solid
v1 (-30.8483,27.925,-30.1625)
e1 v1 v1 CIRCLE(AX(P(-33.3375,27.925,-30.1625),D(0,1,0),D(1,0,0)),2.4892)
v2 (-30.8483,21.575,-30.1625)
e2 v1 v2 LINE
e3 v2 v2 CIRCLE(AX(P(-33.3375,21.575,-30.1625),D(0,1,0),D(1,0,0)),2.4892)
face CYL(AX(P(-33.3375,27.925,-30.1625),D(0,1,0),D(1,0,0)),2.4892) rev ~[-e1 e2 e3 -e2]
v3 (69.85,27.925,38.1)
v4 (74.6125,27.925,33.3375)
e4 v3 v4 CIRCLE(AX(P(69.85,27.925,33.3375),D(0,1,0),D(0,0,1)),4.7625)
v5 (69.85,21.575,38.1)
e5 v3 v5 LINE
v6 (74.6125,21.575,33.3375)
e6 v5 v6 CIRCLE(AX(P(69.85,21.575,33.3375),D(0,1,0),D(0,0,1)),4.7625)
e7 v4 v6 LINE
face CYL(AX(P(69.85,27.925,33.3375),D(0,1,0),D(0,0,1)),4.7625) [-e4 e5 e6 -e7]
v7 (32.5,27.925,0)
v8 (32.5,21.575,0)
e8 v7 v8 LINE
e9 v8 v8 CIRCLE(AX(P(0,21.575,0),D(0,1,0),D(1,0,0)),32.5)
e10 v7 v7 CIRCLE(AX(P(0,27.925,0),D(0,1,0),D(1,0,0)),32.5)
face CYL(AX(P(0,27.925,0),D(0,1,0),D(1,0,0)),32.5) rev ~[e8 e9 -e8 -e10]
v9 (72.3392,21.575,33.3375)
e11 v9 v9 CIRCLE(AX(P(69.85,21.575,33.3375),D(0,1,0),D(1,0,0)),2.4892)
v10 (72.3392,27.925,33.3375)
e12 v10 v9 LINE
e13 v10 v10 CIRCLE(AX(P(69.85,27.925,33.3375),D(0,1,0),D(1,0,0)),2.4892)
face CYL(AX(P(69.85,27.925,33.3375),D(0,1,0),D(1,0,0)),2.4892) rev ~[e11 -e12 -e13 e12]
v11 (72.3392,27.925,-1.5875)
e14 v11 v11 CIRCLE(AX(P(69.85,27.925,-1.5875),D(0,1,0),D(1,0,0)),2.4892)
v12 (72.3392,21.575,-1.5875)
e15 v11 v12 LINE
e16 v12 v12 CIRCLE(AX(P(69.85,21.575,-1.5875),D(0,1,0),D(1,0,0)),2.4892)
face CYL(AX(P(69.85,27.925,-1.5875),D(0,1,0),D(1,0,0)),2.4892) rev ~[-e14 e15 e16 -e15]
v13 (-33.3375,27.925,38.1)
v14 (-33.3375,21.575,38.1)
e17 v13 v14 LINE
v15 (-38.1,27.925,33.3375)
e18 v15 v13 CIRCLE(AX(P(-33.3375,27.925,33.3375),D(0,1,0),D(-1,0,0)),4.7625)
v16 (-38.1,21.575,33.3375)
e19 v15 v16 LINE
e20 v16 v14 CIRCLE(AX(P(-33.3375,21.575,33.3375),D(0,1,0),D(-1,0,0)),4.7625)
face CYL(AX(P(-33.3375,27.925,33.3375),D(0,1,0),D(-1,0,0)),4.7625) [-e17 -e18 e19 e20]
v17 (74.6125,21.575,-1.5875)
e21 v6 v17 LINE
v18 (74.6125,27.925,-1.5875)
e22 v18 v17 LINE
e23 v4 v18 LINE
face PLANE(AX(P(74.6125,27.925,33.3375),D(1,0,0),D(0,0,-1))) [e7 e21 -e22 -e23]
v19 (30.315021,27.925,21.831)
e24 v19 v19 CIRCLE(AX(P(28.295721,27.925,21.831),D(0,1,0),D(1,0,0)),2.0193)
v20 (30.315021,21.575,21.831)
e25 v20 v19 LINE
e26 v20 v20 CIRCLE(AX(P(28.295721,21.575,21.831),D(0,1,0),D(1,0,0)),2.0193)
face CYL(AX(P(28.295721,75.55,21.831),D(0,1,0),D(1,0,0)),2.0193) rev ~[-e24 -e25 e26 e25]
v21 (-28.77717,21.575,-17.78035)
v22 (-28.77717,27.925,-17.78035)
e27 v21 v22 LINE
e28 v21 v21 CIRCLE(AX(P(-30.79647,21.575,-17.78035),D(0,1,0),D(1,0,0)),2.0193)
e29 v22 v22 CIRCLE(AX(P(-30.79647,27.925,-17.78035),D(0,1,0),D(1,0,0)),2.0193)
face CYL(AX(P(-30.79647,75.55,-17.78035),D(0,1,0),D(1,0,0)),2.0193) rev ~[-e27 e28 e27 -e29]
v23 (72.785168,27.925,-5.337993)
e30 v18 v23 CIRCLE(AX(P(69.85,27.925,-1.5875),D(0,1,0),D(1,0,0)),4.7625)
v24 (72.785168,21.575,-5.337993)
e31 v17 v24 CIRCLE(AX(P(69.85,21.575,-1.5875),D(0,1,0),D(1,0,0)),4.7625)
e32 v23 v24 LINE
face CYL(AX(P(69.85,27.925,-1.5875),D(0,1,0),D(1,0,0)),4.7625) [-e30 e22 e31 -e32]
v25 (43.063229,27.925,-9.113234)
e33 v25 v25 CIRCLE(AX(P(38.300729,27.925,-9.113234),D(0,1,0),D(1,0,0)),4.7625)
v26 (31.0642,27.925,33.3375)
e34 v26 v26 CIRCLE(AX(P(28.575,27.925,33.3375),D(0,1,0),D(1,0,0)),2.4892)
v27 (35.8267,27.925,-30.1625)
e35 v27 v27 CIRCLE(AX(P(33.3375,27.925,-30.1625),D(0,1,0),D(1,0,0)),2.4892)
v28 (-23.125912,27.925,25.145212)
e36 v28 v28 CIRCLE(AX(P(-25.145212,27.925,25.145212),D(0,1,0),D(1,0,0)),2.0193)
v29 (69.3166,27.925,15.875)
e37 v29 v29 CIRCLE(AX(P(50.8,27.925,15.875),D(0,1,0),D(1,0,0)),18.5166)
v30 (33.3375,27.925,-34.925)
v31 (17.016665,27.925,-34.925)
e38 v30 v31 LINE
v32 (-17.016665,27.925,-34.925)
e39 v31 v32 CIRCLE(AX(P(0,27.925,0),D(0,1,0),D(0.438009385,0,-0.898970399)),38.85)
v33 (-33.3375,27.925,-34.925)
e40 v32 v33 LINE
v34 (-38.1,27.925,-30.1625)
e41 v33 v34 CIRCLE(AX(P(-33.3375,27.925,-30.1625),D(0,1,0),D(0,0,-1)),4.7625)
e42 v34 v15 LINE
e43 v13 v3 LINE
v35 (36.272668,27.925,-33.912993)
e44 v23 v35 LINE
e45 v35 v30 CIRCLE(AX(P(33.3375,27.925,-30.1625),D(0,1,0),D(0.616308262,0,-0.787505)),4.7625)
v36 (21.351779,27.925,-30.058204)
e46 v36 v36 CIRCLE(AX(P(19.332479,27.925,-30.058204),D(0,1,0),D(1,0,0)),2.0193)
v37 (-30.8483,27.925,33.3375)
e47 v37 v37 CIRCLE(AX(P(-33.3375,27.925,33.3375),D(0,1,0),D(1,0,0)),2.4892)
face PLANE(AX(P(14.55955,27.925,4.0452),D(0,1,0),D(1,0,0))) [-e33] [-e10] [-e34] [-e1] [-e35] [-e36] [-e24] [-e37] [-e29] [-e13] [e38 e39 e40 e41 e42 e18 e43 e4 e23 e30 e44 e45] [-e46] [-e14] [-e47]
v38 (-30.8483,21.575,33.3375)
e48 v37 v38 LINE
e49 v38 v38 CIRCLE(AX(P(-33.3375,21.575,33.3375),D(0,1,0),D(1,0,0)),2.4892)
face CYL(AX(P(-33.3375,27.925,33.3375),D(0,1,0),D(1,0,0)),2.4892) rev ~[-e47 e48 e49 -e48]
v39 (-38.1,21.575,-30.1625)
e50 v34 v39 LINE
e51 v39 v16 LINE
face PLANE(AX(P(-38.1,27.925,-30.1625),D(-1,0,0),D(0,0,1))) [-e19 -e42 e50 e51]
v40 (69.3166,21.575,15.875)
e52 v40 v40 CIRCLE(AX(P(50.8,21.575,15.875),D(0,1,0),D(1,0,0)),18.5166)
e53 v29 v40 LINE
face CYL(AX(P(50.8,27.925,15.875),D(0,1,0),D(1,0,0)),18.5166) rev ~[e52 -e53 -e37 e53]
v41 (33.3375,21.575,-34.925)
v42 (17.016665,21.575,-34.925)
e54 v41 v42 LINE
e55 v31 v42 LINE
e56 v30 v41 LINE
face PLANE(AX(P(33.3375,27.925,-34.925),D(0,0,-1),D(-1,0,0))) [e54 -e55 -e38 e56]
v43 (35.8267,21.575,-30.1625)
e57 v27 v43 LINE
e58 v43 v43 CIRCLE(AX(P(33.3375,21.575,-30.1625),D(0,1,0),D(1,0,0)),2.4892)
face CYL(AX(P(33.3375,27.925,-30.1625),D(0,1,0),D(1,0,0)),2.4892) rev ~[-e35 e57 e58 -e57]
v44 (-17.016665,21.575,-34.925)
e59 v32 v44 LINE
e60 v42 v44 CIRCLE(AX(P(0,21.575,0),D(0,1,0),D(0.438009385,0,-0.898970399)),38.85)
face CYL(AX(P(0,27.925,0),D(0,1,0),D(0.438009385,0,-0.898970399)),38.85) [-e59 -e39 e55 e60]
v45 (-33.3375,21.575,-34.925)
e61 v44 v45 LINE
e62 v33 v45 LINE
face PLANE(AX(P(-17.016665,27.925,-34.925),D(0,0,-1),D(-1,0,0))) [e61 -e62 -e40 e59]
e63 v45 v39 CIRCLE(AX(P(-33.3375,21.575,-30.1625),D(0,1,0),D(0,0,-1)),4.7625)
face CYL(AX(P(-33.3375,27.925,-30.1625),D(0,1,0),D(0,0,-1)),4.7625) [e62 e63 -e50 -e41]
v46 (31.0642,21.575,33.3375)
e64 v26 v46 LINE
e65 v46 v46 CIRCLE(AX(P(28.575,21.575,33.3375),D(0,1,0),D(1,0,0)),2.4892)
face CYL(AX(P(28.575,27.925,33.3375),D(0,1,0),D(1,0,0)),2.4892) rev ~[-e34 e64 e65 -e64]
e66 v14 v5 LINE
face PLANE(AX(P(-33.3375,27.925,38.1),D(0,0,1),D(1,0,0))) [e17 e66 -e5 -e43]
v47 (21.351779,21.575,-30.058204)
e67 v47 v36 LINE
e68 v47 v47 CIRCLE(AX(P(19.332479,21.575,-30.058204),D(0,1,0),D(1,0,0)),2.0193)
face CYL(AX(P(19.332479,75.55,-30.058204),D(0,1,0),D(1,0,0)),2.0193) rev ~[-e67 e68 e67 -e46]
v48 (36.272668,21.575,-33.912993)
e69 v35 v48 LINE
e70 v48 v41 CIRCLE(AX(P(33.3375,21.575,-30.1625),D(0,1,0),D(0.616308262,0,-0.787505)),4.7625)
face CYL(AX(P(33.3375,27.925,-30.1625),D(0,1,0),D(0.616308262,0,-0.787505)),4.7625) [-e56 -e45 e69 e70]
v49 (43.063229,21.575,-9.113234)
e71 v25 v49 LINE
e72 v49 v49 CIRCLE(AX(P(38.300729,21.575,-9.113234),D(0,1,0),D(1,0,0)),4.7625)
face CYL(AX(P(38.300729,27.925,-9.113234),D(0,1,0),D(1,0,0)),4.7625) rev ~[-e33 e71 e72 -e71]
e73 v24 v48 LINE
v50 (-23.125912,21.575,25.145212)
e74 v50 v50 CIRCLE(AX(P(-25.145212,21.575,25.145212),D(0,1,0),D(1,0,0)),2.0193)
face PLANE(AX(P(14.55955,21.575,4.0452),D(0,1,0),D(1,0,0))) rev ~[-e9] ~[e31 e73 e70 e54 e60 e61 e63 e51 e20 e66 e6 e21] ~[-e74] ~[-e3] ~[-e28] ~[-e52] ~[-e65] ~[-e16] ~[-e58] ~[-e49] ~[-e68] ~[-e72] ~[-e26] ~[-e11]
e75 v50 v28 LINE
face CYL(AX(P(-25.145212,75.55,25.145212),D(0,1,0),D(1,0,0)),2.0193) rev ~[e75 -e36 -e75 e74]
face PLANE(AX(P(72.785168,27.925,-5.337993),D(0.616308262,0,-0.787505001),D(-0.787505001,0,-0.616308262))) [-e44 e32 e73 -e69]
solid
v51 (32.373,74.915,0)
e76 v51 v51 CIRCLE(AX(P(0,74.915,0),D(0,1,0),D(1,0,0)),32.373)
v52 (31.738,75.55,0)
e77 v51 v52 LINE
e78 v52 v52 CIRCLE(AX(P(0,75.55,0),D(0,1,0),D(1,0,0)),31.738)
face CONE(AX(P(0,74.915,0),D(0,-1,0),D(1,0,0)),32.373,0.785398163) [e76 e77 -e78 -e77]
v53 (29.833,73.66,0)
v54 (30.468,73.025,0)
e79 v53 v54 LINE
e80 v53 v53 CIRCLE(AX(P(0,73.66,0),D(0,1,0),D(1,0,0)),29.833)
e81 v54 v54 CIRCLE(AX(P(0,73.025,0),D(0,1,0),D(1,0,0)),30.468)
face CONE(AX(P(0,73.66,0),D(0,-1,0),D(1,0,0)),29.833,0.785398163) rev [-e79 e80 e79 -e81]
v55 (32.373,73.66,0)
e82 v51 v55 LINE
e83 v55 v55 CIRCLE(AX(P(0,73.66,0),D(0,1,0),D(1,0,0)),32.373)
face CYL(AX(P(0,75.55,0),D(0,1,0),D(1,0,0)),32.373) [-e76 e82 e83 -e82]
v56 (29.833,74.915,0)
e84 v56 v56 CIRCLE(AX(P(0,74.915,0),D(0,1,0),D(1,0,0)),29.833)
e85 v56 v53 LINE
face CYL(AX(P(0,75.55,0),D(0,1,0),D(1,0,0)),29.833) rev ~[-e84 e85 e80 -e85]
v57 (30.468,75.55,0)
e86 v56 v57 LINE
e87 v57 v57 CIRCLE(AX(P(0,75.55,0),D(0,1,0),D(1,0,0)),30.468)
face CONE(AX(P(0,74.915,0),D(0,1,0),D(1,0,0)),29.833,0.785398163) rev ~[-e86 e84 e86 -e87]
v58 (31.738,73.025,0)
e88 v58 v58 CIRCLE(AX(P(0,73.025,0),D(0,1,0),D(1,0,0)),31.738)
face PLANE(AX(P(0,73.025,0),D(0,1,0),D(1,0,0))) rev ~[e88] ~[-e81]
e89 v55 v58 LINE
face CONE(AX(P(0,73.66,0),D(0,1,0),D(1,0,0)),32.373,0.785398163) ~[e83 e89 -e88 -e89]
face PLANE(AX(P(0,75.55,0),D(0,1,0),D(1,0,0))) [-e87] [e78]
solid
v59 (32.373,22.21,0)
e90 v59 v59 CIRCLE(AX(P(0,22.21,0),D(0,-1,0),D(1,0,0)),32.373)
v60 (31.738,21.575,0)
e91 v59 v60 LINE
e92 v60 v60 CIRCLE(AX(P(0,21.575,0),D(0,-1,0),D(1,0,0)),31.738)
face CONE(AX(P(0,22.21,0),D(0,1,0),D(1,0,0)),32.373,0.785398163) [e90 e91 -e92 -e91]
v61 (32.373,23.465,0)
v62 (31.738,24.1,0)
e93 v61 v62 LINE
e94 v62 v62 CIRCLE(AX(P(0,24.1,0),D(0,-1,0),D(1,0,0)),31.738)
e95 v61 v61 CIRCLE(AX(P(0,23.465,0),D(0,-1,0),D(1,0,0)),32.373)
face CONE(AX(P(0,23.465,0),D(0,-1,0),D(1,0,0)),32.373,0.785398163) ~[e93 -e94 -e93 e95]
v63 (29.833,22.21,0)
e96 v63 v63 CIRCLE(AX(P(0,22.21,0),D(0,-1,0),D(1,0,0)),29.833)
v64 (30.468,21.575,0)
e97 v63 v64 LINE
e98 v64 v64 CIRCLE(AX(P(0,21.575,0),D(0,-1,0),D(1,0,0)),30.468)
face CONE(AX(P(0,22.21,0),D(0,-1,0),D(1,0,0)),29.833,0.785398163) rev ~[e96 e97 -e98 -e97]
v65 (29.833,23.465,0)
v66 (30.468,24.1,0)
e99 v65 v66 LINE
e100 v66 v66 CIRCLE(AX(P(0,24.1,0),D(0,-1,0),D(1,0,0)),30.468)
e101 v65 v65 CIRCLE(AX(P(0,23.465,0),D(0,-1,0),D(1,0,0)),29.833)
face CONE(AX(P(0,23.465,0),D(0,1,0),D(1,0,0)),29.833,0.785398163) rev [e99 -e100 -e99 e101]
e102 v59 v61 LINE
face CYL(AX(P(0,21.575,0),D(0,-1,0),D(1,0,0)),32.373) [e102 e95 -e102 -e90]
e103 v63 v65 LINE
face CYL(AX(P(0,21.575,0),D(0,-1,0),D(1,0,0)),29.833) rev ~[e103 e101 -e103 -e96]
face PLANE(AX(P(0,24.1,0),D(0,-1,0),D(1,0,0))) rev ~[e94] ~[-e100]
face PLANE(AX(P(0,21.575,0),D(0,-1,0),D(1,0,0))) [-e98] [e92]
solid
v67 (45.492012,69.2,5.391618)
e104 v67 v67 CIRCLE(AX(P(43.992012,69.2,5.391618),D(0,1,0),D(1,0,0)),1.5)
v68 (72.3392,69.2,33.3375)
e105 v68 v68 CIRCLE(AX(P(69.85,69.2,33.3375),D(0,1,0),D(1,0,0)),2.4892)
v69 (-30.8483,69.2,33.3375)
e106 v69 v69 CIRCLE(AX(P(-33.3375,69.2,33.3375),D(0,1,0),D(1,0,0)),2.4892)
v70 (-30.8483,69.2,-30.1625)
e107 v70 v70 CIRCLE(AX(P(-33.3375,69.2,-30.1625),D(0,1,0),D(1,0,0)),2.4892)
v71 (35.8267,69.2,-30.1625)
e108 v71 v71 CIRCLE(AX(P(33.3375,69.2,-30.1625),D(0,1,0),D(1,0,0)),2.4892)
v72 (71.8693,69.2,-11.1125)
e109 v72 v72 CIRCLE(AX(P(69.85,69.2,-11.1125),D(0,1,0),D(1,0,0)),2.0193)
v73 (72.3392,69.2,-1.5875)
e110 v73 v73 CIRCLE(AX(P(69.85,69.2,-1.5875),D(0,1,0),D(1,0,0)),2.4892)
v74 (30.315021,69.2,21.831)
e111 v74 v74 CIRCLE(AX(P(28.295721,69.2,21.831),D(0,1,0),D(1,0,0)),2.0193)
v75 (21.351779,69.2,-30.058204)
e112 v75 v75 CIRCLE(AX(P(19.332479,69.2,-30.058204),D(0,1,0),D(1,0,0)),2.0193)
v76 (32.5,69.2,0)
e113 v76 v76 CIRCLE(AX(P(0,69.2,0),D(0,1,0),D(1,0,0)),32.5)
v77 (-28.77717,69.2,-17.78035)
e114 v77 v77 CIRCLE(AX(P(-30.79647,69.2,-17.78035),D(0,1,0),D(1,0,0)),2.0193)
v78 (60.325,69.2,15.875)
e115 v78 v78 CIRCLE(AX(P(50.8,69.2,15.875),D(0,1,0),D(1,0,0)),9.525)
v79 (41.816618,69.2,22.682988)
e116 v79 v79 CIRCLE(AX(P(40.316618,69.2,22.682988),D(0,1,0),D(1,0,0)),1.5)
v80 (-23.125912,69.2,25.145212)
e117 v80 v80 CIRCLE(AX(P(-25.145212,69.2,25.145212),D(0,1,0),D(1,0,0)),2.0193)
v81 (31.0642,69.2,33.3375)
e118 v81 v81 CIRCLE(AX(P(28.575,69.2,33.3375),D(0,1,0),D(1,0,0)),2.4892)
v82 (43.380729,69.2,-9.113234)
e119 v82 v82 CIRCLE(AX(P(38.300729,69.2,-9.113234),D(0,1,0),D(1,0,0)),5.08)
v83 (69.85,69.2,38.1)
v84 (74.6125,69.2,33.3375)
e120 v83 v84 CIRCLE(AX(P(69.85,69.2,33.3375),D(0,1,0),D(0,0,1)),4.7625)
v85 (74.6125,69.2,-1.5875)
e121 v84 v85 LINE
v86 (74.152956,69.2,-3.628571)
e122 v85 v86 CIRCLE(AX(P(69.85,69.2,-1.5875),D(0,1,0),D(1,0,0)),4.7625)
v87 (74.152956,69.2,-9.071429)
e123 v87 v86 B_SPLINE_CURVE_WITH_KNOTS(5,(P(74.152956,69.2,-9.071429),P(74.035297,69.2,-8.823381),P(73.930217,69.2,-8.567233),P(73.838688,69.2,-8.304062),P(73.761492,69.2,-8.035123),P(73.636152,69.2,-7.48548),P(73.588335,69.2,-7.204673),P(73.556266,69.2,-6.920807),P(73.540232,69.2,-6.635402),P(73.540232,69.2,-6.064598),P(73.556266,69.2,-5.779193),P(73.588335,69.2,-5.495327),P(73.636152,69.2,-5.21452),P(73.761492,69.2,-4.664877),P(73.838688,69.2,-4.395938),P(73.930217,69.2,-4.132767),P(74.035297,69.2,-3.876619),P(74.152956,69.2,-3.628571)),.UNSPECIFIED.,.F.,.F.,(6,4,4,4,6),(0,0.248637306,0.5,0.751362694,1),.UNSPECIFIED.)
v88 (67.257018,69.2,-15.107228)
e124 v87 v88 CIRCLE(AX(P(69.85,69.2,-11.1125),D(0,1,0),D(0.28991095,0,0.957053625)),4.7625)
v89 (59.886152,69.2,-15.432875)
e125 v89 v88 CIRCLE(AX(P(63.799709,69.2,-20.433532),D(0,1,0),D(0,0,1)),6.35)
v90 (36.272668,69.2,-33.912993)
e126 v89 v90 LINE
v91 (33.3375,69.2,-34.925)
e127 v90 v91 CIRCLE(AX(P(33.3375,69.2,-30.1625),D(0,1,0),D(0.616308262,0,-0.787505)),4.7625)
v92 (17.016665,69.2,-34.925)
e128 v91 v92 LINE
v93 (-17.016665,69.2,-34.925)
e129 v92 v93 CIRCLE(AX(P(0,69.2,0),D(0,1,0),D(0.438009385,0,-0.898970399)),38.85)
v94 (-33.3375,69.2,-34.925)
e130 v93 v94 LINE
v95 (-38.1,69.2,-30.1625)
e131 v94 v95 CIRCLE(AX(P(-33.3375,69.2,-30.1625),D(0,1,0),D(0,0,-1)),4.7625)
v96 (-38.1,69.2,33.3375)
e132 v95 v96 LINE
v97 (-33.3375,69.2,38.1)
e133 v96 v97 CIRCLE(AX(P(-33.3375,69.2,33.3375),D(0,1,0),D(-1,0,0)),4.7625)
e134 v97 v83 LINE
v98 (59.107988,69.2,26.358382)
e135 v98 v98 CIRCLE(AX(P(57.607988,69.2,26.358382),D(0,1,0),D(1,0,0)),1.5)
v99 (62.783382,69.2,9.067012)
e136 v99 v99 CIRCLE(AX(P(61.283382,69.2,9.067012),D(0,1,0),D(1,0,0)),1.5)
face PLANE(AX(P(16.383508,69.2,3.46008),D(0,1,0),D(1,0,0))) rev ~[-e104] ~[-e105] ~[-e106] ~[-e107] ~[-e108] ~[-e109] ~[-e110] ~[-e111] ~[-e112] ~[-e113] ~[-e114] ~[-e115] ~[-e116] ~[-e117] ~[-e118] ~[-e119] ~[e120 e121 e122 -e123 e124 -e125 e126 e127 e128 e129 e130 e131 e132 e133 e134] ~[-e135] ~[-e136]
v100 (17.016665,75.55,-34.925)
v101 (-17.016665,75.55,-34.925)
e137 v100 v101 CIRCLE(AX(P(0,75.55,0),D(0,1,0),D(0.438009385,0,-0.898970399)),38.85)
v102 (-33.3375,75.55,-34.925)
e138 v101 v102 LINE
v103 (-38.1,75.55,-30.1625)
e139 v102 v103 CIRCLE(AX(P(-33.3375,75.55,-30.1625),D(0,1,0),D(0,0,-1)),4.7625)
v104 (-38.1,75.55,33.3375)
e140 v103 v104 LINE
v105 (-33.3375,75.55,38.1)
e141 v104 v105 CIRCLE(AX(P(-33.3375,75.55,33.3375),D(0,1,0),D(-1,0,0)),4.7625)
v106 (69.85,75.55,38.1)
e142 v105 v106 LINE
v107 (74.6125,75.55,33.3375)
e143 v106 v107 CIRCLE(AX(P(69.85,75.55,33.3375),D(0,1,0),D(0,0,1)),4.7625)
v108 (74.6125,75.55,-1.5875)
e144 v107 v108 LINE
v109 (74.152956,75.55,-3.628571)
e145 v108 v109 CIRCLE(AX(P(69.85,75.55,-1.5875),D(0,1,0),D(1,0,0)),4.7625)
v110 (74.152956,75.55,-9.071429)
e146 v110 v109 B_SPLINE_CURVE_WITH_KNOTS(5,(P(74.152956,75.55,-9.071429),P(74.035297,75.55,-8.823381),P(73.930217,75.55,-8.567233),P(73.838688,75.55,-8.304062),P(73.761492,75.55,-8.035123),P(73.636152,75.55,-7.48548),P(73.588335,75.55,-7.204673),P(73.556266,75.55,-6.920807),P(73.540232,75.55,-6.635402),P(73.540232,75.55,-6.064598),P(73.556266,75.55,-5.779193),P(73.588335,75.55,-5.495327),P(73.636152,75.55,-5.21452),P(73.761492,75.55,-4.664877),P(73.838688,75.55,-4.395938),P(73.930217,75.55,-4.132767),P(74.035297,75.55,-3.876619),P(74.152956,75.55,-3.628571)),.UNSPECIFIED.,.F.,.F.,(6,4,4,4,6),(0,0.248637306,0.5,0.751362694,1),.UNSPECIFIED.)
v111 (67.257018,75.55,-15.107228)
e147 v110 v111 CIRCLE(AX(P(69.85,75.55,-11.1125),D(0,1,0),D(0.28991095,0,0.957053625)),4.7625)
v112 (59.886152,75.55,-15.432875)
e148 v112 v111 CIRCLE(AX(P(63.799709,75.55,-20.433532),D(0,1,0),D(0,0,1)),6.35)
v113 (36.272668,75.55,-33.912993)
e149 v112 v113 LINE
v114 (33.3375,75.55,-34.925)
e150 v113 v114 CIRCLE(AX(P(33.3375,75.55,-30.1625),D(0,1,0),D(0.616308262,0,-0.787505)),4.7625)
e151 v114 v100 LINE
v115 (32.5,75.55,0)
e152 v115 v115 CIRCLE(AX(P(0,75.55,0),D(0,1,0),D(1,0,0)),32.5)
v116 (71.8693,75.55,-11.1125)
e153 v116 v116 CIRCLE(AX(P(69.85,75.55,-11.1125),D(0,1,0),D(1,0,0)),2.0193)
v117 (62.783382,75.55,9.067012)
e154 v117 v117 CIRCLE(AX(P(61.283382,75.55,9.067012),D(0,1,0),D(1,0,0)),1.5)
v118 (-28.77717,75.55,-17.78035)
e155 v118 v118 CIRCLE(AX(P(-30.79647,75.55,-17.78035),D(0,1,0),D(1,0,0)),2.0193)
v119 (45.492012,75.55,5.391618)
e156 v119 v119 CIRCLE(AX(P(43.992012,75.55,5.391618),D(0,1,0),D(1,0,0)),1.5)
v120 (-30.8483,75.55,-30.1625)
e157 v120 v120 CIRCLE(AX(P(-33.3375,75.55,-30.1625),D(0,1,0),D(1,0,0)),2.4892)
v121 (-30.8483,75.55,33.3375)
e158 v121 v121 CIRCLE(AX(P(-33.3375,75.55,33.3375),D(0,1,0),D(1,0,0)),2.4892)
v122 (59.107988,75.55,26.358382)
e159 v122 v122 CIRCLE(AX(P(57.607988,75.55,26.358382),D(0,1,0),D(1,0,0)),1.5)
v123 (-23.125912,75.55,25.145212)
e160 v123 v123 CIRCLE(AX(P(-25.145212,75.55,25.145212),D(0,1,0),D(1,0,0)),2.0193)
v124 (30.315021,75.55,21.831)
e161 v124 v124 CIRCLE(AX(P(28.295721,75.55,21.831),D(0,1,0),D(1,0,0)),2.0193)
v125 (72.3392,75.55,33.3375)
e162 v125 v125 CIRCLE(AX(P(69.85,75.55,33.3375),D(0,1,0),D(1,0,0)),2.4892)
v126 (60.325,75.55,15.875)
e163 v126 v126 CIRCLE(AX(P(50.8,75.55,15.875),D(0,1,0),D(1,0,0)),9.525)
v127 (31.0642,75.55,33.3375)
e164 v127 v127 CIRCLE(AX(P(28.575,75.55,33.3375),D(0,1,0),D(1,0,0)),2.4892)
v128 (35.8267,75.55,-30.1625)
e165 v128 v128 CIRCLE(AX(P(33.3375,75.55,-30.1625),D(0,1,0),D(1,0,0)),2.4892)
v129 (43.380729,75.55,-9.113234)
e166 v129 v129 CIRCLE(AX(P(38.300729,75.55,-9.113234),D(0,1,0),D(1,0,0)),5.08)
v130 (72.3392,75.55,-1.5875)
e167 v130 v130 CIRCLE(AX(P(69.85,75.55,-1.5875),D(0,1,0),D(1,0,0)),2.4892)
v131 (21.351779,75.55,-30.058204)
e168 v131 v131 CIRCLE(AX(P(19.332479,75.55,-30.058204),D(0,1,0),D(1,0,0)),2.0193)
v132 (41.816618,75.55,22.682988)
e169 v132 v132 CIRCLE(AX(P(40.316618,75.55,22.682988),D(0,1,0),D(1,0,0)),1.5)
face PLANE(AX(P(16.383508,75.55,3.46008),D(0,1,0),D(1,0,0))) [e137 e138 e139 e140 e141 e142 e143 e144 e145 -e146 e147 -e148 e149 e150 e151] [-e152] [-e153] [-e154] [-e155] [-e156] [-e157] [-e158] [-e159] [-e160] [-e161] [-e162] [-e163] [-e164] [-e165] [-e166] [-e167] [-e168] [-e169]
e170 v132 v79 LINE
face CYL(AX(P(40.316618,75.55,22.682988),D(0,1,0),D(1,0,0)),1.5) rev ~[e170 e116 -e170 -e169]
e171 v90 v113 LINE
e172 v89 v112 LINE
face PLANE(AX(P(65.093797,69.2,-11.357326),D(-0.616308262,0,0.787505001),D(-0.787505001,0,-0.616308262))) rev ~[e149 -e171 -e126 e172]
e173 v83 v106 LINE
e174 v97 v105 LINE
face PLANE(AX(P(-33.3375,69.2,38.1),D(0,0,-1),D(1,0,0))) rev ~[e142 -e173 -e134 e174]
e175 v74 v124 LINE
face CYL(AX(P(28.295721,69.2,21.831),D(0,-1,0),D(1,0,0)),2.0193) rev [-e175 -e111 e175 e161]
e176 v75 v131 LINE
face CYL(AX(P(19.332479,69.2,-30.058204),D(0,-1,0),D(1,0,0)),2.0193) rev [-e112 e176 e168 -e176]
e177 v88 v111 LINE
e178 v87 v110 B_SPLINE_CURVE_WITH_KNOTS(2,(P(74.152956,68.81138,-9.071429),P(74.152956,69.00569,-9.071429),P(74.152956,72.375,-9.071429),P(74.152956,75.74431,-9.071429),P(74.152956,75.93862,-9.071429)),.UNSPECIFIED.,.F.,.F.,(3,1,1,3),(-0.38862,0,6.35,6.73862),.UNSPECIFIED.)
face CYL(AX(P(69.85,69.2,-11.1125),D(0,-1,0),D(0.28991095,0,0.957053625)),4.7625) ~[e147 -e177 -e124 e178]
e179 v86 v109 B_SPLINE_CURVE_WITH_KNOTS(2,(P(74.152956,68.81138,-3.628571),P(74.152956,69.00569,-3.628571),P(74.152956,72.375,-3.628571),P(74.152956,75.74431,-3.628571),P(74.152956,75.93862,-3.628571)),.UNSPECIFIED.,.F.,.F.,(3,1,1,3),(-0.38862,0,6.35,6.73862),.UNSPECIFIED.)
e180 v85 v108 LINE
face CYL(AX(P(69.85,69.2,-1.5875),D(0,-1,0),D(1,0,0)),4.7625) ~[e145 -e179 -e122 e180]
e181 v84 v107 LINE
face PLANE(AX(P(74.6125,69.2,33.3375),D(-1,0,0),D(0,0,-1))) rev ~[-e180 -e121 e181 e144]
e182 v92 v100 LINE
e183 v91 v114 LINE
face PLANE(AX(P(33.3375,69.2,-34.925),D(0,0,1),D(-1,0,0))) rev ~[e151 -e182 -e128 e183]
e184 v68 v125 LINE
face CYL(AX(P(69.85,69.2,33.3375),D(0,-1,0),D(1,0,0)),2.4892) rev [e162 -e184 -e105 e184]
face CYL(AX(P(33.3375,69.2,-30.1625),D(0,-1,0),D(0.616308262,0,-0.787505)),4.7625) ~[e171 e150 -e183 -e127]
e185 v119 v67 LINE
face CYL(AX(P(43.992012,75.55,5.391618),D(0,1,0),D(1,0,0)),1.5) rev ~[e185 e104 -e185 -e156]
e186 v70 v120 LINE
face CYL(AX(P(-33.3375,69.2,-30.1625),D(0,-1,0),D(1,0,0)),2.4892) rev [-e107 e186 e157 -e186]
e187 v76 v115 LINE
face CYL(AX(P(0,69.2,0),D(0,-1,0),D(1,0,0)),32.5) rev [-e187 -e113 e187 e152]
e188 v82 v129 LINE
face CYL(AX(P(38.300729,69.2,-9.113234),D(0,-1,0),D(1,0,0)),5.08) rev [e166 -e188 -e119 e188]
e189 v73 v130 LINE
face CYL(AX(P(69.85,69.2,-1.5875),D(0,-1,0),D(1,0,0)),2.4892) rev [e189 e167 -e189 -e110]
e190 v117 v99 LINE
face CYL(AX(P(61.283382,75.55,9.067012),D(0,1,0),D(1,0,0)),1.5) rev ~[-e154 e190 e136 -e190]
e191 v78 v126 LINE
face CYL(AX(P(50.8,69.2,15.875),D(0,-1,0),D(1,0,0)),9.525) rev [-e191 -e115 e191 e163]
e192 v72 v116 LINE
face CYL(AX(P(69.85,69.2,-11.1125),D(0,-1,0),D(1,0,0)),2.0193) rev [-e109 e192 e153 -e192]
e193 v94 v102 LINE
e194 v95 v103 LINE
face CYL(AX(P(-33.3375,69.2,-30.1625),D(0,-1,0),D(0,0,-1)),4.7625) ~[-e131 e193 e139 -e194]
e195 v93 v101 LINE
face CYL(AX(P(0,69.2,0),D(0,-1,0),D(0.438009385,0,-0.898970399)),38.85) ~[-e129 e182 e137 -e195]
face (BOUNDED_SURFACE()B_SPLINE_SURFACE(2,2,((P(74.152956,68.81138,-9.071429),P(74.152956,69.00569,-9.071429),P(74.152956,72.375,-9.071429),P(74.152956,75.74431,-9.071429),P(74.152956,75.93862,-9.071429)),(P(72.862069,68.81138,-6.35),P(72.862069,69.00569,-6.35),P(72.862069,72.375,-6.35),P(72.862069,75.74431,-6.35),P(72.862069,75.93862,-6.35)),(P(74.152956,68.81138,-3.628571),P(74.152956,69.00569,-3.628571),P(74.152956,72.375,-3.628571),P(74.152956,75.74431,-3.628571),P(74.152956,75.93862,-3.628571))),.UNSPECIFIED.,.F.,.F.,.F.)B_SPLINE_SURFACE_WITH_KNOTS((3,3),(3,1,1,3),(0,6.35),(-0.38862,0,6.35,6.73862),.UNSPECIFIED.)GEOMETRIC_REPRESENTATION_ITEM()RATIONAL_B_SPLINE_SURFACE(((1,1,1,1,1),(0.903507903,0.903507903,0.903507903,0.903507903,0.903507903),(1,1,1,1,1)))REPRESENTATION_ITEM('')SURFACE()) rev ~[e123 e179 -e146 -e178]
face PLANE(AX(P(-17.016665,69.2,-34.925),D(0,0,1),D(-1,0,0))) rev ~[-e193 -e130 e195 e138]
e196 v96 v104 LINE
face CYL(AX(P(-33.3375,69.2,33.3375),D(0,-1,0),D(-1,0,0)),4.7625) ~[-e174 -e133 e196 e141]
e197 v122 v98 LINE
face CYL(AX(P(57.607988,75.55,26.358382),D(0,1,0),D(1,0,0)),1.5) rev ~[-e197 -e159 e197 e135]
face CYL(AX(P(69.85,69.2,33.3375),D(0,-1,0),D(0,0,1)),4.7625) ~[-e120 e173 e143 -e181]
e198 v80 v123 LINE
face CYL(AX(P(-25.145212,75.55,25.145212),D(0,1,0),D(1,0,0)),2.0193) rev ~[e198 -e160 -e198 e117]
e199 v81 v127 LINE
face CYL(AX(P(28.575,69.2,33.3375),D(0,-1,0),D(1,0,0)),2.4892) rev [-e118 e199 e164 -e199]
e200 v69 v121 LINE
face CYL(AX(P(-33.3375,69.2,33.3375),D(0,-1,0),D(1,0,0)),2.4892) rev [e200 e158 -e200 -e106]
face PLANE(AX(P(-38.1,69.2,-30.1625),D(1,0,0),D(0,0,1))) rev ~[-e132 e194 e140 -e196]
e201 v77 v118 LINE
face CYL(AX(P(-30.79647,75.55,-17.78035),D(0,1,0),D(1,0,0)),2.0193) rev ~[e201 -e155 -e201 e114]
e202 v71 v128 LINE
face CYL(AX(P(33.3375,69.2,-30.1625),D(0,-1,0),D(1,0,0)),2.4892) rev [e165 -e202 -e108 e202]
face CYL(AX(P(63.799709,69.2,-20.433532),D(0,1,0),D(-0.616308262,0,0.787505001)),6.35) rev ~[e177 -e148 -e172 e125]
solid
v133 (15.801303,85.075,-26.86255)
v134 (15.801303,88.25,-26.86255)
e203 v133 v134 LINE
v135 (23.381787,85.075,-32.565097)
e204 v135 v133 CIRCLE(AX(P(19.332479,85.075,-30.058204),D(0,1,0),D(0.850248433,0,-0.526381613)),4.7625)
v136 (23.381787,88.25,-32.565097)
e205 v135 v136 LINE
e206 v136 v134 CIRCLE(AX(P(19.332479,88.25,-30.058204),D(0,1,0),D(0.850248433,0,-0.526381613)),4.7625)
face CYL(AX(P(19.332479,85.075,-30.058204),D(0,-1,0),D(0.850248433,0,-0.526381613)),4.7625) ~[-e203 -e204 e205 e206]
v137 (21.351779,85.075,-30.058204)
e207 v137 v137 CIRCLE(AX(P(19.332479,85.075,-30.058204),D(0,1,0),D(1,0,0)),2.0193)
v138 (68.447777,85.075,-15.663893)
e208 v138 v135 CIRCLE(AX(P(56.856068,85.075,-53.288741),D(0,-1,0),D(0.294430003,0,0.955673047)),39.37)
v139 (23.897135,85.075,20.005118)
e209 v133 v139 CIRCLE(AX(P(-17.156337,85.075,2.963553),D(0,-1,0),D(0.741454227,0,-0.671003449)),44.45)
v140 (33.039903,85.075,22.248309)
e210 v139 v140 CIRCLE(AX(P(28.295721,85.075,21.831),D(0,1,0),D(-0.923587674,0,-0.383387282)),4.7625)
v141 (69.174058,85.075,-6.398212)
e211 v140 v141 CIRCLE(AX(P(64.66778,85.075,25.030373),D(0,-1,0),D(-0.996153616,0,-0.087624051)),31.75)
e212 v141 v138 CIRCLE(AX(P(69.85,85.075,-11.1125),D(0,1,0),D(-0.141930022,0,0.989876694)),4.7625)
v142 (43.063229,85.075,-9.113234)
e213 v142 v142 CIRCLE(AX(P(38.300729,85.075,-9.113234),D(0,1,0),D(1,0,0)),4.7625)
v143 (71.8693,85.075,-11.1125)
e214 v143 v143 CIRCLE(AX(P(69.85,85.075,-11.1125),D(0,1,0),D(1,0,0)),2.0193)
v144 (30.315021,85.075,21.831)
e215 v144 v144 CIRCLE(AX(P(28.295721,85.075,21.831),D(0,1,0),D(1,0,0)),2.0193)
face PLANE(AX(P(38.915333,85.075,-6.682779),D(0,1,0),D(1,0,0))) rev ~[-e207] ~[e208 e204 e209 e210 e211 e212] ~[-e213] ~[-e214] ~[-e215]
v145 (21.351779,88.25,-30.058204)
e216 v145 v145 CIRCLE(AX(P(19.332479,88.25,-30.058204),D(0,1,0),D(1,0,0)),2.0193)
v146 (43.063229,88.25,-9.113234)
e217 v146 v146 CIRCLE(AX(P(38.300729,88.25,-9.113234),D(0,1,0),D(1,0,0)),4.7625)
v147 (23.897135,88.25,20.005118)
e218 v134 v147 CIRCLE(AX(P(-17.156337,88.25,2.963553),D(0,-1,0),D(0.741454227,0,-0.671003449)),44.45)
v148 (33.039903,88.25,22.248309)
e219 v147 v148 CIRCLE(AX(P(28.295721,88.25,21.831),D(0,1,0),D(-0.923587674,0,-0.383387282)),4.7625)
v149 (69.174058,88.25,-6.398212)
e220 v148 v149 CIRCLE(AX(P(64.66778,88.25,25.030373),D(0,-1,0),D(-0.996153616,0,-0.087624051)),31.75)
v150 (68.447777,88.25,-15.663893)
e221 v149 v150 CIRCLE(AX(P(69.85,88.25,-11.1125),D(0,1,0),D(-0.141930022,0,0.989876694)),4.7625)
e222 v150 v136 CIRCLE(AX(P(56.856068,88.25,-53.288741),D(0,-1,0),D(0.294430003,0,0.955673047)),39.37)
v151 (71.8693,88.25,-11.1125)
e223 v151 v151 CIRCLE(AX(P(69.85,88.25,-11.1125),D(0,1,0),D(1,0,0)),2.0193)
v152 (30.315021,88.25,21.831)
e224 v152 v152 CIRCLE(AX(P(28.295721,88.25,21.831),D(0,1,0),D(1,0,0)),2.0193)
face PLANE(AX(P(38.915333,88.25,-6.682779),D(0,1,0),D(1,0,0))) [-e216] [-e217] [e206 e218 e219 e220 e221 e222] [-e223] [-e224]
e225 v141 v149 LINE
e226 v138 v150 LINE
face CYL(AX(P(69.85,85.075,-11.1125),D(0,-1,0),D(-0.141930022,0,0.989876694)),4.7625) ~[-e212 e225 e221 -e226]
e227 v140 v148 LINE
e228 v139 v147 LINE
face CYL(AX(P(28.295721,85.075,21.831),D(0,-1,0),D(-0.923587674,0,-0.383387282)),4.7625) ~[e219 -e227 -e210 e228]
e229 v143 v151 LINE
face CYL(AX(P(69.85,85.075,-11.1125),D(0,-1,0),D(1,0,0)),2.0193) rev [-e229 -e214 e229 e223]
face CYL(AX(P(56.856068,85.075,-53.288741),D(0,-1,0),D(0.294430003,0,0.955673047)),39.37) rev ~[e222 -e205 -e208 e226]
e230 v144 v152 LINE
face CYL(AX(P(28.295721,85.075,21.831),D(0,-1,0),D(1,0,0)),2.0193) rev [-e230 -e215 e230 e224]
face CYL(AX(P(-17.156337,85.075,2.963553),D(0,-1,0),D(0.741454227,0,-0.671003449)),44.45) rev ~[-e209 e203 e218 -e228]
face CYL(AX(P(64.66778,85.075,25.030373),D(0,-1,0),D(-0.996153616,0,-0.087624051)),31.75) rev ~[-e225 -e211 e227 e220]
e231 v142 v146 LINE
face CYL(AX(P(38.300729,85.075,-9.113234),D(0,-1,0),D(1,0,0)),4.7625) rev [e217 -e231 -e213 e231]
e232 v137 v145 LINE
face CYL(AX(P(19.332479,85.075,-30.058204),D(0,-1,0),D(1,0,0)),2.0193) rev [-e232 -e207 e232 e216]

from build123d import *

# Parameters (mm, degrees)
SKETCH3_R               = 32.5
SKETCH3_R_2             = 2.4892
SKETCH3_R_3             = 18.5166
SKETCH3_R_4             = 4.7625
BOSS_EXTRUDE1_DEPTH     = 6.35
SKETCH4_R               = 2.4892
SKETCH4_R_2             = 5.08
SKETCH4_R_3             = 9.525
SKETCH4_R_4             = 32.5
SKETCH4_R_5             = 2.0193
BOSS_EXTRUDE2_DEPTH     = 6.35
SKETCH6_R               = 4.7625
SKETCH6_R_2             = 2.0193
BOSS_EXTRUDE3_DEPTH     = 3.175
SKETCH13_R              = 32.373
SKETCH13_R_2            = 29.833
BOSS_EXTRUDE7_DEPTH     = 2.525
SKETCH14_R              = 32.373
SKETCH14_R_2            = 29.833
BOSS_EXTRUDE8_DEPTH     = 2.525
SKETCH8_R               = 1.5
CUT_EXTRUDE1_DEPTH      = 54.975
SKETCH9_R               = 2.0193
CUT_EXTRUDE2_DEPTH      = 13.7
CUT_EXTRUDE2_DEPTH_BACK = 54.975
FILLET1_R               = 6.35
CHAMFER2_SIZE           = 0.635
CHAMFER1_SIZE           = 0.635


with BuildPart() as part:
    # Sketch3 → Boss-Extrude1 (new body)
    with BuildSketch(Plane(origin=(0, 27.925, 0), x_dir=(1, 0, 0), z_dir=(0, 1, 0))):
        with BuildLine():
            Line((-38.1, 30.1625), (-38.1, -33.3375))
            ThreePointArc((-38.1, -33.3375), (-36.705096045, -36.705096045), (-33.3375, -38.1))
            Line((-33.3375, -38.1), (69.85, -38.1))
            ThreePointArc((69.85, -38.1), (73.217596045, -36.705096045), (74.6125, -33.3375))
            Line((74.6125, -33.3375), (74.6125, 1.5875))
            ThreePointArc((74.6125, 1.5875), (74.131363352, 3.673485162), (72.785168096, 5.337992567))
            Line((72.785168096, 5.337992567), (36.272668096, 33.912992567))
            ThreePointArc((36.272668096, 33.912992567), (34.889866806, 34.664895313), (33.3375, 34.925))
            Line((33.3375, 34.925), (17.016664626, 34.925))
            ThreePointArc((17.016664626, 34.925), (0, 38.85), (-17.016664626, 34.925))
            Line((-17.016664626, 34.925), (-33.3375, 34.925))
            ThreePointArc((-33.3375, 34.925), (-36.705096045, 33.530096045), (-38.1, 30.1625))
        make_face()
        Circle(SKETCH3_R, mode=Mode.SUBTRACT)
        with Locations((-33.3375, 30.1625)):
            Circle(SKETCH3_R_2, mode=Mode.SUBTRACT)
        with Locations((-33.3375, -33.3375)):
            Circle(SKETCH3_R_2, mode=Mode.SUBTRACT)
        with Locations((28.575, -33.3375)):
            Circle(SKETCH3_R_2, mode=Mode.SUBTRACT)
        with Locations((50.8, -15.875)):
            Circle(SKETCH3_R_3, mode=Mode.SUBTRACT)
        with Locations((38.300729341, 9.113233891)):
            Circle(SKETCH3_R_4, mode=Mode.SUBTRACT)
        with Locations((69.85, -33.3375)):
            Circle(SKETCH3_R_2, mode=Mode.SUBTRACT)
        with Locations((69.85, 1.5875)):
            Circle(SKETCH3_R_2, mode=Mode.SUBTRACT)
        with Locations((33.3375, 30.1625)):
            Circle(SKETCH3_R_2, mode=Mode.SUBTRACT)
    extrude(amount=-BOSS_EXTRUDE1_DEPTH)


with BuildPart() as body_2:
    # Sketch4 → Boss-Extrude2 (new body)
    with BuildSketch(Plane(origin=(0, 69.2, 0), x_dir=(1, 0, 0), z_dir=(0, 1, 0))):
        with BuildLine():
            Line((65.093797073, 11.357326411), (36.272668096, 33.912992567))
            ThreePointArc((36.272668096, 33.912992567), (34.889866806, 34.664895313), (33.3375, 34.925))
            Line((33.3375, 34.925), (17.016664626, 34.925))
            ThreePointArc((17.016664626, 34.925), (0, 38.85), (-17.016664626, 34.925))
            Line((-17.016664626, 34.925), (-33.3375, 34.925))
            ThreePointArc((-33.3375, 34.925), (-36.705096045, 33.530096045), (-38.1, 30.1625))
            Line((-38.1, 30.1625), (-38.1, -33.3375))
            ThreePointArc((-38.1, -33.3375), (-36.705096045, -36.705096045), (-33.3375, -38.1))
            Line((-33.3375, -38.1), (69.85, -38.1))
            ThreePointArc((69.85, -38.1), (73.217596045, -36.705096045), (74.6125, -33.3375))
            Line((74.6125, -33.3375), (74.6125, 1.5875))
            ThreePointArc((74.6125, 1.5875), (74.131363352, 3.673485162), (72.785168096, 5.337992567))
            Line((72.785168096, 5.337992567), (71.230700901, 6.554532112))
            ThreePointArc((71.230700901, 6.554532112), (72.785168096, 14.862992567), (65.093797073, 11.357326411))
        make_face()
        with Locations((33.3375, 30.1625)):
            Circle(SKETCH4_R, mode=Mode.SUBTRACT)
        with Locations((69.85, 1.5875)):
            Circle(SKETCH4_R, mode=Mode.SUBTRACT)
        with Locations((69.85, -33.3375)):
            Circle(SKETCH4_R, mode=Mode.SUBTRACT)
        with Locations((28.575, -33.3375)):
            Circle(SKETCH4_R, mode=Mode.SUBTRACT)
        with Locations((-33.3375, -33.3375)):
            Circle(SKETCH4_R, mode=Mode.SUBTRACT)
        with Locations((-33.3375, 30.1625)):
            Circle(SKETCH4_R, mode=Mode.SUBTRACT)
        with Locations((38.300729341, 9.113233891)):
            Circle(SKETCH4_R_2, mode=Mode.SUBTRACT)
        with Locations((50.8, -15.875)):
            Circle(SKETCH4_R_3, mode=Mode.SUBTRACT)
        Circle(SKETCH4_R_4, mode=Mode.SUBTRACT)
        with Locations((19.332478919, 30.058204223)):
            Circle(SKETCH4_R_5, mode=Mode.SUBTRACT)
        with Locations((69.85, 11.1125)):
            Circle(SKETCH4_R_5, mode=Mode.SUBTRACT)
        with Locations((28.295721181, -21.830999635)):
            Circle(SKETCH4_R_5, mode=Mode.SUBTRACT)
    extrude(amount=BOSS_EXTRUDE2_DEPTH)

    # Sketch8 → Cut-Extrude1 (cut, through all)
    with BuildSketch(Plane(origin=(0, 75.55, 0), x_dir=(1, 0, 0), z_dir=(0, 1, 0))):
        with Locations((43.992012062, -5.391617901)):
            Circle(SKETCH8_R)
        with Locations((61.283382099, -9.067012062)):
            Circle(SKETCH8_R)
        with Locations((57.607987938, -26.358382099)):
            Circle(SKETCH8_R)
        with Locations((40.316617901, -22.682987938)):
            Circle(SKETCH8_R)
    extrude(amount=-CUT_EXTRUDE1_DEPTH, mode=Mode.SUBTRACT)


with BuildPart() as body_3:
    # Sketch6 → Boss-Extrude3 (new body)
    with BuildSketch(Plane(origin=(0, 85.075, 0), x_dir=(1, 0, 0), z_dir=(0, 1, 0))):
        with BuildLine():
            ThreePointArc((23.381787081, 32.565096654), (16.469460575, 33.864059213), (15.801303162, 26.862550296))
            ThreePointArc((15.801303162, 26.862550296), (26.644984318, 4.602603851), (23.897134883, -20.005117705))
            ThreePointArc((23.897134883, -20.005117705), (27.160892551, -26.456318028), (33.039902775, -22.248309176))
            ThreePointArc((33.039902775, -22.248309176), (44.943402215, -0.150432703), (69.17405827, 6.398212246))
            ThreePointArc((69.17405827, 6.398212246), (74.59793655, 11.484662284), (68.44777711, 15.663892887))
            ThreePointArc((68.44777711, 15.663892887), (43.031292771, 16.425853008), (23.381787081, 32.565096654))
        make_face()
        with Locations((38.300729341, 9.113233891)):
            Circle(SKETCH6_R, mode=Mode.SUBTRACT)
        with Locations((28.295721181, -21.830999635)):
            Circle(SKETCH6_R_2, mode=Mode.SUBTRACT)
        with Locations((69.85, 11.1125)):
            Circle(SKETCH6_R_2, mode=Mode.SUBTRACT)
        with Locations((19.332478919, 30.058204223)):
            Circle(SKETCH6_R_2, mode=Mode.SUBTRACT)
    extrude(amount=BOSS_EXTRUDE3_DEPTH)


with BuildPart() as body_4:
    # Sketch13 → Boss-Extrude7 (new body)
    with BuildSketch(Plane(origin=(0, 75.55, 0), x_dir=(1, 0, 0), z_dir=(0, 1, 0))):
        Circle(SKETCH13_R)
        Circle(SKETCH13_R_2, mode=Mode.SUBTRACT)
    extrude(amount=-BOSS_EXTRUDE7_DEPTH)

    # Chamfer1
    chamfer1_edges = [body_4.edges().sort_by_distance(p)[0] for p in [
        (-32.373, 75.55, 0),
        (-32.373, 73.025, 0),
        (-29.833, 73.025, 0),
        (-29.833, 75.55, 0),
    ]]
    chamfer(chamfer1_edges, length=CHAMFER1_SIZE)


with BuildPart() as body_5:
    # Sketch14 → Boss-Extrude8 (new body)
    with BuildSketch(Plane.XZ.offset(-21.575)):
        Circle(SKETCH14_R)
        Circle(SKETCH14_R_2, mode=Mode.SUBTRACT)
    extrude(amount=-BOSS_EXTRUDE8_DEPTH)

    # Chamfer2
    chamfer2_edges = [body_5.edges().sort_by_distance(p)[0] for p in [
        (-32.373, 21.575, 0),
        (-32.373, 24.1, 0),
        (-29.833, 24.1, 0),
        (-29.833, 21.575, 0),
    ]]
    chamfer(chamfer2_edges, length=CHAMFER2_SIZE)


with BuildPart() as cut_extrude2_tool:
    # Sketch9 → Cut-Extrude2 (new body, two sides)
    with BuildSketch(Plane(origin=(0, 75.55, 0), x_dir=(1, 0, 0), z_dir=(0, 1, 0))) as cut_extrude2_sk:
        with Locations((-25.145212114, -25.145212114)):
            Circle(SKETCH9_R)
        with Locations((-30.796469576, 17.78035)):
            Circle(SKETCH9_R)
        with Locations((19.332478919, 30.058204223)):
            Circle(SKETCH9_R)
        with Locations((28.295721181, -21.830999635)):
            Circle(SKETCH9_R)
    extrude(amount=CUT_EXTRUDE2_DEPTH)
    extrude(cut_extrude2_sk.sketch, amount=-CUT_EXTRUDE2_DEPTH_BACK)


with BuildPart() as part_1:
    add(part.part)

    # Cut-Extrude2: cut by cut_extrude2_tool
    add(cut_extrude2_tool.part, mode=Mode.SUBTRACT)


with BuildPart() as body_2_1:
    add(body_2.part)

    # Cut-Extrude2: cut by cut_extrude2_tool
    add(cut_extrude2_tool.part, mode=Mode.SUBTRACT)

    # Fillet1
    fillet1_edges = [body_2_1.edges().sort_by_distance(p)[0] for p in [
        (65.093797073, 72.375, -11.357326411),
        (71.230700901, 72.375, -6.554532112),
    ]]
    fillet(fillet1_edges, radius=FILLET1_R)


solid = Compound([body_3.part, body_4.part, body_5.part, part_1.part, body_2_1.part])
